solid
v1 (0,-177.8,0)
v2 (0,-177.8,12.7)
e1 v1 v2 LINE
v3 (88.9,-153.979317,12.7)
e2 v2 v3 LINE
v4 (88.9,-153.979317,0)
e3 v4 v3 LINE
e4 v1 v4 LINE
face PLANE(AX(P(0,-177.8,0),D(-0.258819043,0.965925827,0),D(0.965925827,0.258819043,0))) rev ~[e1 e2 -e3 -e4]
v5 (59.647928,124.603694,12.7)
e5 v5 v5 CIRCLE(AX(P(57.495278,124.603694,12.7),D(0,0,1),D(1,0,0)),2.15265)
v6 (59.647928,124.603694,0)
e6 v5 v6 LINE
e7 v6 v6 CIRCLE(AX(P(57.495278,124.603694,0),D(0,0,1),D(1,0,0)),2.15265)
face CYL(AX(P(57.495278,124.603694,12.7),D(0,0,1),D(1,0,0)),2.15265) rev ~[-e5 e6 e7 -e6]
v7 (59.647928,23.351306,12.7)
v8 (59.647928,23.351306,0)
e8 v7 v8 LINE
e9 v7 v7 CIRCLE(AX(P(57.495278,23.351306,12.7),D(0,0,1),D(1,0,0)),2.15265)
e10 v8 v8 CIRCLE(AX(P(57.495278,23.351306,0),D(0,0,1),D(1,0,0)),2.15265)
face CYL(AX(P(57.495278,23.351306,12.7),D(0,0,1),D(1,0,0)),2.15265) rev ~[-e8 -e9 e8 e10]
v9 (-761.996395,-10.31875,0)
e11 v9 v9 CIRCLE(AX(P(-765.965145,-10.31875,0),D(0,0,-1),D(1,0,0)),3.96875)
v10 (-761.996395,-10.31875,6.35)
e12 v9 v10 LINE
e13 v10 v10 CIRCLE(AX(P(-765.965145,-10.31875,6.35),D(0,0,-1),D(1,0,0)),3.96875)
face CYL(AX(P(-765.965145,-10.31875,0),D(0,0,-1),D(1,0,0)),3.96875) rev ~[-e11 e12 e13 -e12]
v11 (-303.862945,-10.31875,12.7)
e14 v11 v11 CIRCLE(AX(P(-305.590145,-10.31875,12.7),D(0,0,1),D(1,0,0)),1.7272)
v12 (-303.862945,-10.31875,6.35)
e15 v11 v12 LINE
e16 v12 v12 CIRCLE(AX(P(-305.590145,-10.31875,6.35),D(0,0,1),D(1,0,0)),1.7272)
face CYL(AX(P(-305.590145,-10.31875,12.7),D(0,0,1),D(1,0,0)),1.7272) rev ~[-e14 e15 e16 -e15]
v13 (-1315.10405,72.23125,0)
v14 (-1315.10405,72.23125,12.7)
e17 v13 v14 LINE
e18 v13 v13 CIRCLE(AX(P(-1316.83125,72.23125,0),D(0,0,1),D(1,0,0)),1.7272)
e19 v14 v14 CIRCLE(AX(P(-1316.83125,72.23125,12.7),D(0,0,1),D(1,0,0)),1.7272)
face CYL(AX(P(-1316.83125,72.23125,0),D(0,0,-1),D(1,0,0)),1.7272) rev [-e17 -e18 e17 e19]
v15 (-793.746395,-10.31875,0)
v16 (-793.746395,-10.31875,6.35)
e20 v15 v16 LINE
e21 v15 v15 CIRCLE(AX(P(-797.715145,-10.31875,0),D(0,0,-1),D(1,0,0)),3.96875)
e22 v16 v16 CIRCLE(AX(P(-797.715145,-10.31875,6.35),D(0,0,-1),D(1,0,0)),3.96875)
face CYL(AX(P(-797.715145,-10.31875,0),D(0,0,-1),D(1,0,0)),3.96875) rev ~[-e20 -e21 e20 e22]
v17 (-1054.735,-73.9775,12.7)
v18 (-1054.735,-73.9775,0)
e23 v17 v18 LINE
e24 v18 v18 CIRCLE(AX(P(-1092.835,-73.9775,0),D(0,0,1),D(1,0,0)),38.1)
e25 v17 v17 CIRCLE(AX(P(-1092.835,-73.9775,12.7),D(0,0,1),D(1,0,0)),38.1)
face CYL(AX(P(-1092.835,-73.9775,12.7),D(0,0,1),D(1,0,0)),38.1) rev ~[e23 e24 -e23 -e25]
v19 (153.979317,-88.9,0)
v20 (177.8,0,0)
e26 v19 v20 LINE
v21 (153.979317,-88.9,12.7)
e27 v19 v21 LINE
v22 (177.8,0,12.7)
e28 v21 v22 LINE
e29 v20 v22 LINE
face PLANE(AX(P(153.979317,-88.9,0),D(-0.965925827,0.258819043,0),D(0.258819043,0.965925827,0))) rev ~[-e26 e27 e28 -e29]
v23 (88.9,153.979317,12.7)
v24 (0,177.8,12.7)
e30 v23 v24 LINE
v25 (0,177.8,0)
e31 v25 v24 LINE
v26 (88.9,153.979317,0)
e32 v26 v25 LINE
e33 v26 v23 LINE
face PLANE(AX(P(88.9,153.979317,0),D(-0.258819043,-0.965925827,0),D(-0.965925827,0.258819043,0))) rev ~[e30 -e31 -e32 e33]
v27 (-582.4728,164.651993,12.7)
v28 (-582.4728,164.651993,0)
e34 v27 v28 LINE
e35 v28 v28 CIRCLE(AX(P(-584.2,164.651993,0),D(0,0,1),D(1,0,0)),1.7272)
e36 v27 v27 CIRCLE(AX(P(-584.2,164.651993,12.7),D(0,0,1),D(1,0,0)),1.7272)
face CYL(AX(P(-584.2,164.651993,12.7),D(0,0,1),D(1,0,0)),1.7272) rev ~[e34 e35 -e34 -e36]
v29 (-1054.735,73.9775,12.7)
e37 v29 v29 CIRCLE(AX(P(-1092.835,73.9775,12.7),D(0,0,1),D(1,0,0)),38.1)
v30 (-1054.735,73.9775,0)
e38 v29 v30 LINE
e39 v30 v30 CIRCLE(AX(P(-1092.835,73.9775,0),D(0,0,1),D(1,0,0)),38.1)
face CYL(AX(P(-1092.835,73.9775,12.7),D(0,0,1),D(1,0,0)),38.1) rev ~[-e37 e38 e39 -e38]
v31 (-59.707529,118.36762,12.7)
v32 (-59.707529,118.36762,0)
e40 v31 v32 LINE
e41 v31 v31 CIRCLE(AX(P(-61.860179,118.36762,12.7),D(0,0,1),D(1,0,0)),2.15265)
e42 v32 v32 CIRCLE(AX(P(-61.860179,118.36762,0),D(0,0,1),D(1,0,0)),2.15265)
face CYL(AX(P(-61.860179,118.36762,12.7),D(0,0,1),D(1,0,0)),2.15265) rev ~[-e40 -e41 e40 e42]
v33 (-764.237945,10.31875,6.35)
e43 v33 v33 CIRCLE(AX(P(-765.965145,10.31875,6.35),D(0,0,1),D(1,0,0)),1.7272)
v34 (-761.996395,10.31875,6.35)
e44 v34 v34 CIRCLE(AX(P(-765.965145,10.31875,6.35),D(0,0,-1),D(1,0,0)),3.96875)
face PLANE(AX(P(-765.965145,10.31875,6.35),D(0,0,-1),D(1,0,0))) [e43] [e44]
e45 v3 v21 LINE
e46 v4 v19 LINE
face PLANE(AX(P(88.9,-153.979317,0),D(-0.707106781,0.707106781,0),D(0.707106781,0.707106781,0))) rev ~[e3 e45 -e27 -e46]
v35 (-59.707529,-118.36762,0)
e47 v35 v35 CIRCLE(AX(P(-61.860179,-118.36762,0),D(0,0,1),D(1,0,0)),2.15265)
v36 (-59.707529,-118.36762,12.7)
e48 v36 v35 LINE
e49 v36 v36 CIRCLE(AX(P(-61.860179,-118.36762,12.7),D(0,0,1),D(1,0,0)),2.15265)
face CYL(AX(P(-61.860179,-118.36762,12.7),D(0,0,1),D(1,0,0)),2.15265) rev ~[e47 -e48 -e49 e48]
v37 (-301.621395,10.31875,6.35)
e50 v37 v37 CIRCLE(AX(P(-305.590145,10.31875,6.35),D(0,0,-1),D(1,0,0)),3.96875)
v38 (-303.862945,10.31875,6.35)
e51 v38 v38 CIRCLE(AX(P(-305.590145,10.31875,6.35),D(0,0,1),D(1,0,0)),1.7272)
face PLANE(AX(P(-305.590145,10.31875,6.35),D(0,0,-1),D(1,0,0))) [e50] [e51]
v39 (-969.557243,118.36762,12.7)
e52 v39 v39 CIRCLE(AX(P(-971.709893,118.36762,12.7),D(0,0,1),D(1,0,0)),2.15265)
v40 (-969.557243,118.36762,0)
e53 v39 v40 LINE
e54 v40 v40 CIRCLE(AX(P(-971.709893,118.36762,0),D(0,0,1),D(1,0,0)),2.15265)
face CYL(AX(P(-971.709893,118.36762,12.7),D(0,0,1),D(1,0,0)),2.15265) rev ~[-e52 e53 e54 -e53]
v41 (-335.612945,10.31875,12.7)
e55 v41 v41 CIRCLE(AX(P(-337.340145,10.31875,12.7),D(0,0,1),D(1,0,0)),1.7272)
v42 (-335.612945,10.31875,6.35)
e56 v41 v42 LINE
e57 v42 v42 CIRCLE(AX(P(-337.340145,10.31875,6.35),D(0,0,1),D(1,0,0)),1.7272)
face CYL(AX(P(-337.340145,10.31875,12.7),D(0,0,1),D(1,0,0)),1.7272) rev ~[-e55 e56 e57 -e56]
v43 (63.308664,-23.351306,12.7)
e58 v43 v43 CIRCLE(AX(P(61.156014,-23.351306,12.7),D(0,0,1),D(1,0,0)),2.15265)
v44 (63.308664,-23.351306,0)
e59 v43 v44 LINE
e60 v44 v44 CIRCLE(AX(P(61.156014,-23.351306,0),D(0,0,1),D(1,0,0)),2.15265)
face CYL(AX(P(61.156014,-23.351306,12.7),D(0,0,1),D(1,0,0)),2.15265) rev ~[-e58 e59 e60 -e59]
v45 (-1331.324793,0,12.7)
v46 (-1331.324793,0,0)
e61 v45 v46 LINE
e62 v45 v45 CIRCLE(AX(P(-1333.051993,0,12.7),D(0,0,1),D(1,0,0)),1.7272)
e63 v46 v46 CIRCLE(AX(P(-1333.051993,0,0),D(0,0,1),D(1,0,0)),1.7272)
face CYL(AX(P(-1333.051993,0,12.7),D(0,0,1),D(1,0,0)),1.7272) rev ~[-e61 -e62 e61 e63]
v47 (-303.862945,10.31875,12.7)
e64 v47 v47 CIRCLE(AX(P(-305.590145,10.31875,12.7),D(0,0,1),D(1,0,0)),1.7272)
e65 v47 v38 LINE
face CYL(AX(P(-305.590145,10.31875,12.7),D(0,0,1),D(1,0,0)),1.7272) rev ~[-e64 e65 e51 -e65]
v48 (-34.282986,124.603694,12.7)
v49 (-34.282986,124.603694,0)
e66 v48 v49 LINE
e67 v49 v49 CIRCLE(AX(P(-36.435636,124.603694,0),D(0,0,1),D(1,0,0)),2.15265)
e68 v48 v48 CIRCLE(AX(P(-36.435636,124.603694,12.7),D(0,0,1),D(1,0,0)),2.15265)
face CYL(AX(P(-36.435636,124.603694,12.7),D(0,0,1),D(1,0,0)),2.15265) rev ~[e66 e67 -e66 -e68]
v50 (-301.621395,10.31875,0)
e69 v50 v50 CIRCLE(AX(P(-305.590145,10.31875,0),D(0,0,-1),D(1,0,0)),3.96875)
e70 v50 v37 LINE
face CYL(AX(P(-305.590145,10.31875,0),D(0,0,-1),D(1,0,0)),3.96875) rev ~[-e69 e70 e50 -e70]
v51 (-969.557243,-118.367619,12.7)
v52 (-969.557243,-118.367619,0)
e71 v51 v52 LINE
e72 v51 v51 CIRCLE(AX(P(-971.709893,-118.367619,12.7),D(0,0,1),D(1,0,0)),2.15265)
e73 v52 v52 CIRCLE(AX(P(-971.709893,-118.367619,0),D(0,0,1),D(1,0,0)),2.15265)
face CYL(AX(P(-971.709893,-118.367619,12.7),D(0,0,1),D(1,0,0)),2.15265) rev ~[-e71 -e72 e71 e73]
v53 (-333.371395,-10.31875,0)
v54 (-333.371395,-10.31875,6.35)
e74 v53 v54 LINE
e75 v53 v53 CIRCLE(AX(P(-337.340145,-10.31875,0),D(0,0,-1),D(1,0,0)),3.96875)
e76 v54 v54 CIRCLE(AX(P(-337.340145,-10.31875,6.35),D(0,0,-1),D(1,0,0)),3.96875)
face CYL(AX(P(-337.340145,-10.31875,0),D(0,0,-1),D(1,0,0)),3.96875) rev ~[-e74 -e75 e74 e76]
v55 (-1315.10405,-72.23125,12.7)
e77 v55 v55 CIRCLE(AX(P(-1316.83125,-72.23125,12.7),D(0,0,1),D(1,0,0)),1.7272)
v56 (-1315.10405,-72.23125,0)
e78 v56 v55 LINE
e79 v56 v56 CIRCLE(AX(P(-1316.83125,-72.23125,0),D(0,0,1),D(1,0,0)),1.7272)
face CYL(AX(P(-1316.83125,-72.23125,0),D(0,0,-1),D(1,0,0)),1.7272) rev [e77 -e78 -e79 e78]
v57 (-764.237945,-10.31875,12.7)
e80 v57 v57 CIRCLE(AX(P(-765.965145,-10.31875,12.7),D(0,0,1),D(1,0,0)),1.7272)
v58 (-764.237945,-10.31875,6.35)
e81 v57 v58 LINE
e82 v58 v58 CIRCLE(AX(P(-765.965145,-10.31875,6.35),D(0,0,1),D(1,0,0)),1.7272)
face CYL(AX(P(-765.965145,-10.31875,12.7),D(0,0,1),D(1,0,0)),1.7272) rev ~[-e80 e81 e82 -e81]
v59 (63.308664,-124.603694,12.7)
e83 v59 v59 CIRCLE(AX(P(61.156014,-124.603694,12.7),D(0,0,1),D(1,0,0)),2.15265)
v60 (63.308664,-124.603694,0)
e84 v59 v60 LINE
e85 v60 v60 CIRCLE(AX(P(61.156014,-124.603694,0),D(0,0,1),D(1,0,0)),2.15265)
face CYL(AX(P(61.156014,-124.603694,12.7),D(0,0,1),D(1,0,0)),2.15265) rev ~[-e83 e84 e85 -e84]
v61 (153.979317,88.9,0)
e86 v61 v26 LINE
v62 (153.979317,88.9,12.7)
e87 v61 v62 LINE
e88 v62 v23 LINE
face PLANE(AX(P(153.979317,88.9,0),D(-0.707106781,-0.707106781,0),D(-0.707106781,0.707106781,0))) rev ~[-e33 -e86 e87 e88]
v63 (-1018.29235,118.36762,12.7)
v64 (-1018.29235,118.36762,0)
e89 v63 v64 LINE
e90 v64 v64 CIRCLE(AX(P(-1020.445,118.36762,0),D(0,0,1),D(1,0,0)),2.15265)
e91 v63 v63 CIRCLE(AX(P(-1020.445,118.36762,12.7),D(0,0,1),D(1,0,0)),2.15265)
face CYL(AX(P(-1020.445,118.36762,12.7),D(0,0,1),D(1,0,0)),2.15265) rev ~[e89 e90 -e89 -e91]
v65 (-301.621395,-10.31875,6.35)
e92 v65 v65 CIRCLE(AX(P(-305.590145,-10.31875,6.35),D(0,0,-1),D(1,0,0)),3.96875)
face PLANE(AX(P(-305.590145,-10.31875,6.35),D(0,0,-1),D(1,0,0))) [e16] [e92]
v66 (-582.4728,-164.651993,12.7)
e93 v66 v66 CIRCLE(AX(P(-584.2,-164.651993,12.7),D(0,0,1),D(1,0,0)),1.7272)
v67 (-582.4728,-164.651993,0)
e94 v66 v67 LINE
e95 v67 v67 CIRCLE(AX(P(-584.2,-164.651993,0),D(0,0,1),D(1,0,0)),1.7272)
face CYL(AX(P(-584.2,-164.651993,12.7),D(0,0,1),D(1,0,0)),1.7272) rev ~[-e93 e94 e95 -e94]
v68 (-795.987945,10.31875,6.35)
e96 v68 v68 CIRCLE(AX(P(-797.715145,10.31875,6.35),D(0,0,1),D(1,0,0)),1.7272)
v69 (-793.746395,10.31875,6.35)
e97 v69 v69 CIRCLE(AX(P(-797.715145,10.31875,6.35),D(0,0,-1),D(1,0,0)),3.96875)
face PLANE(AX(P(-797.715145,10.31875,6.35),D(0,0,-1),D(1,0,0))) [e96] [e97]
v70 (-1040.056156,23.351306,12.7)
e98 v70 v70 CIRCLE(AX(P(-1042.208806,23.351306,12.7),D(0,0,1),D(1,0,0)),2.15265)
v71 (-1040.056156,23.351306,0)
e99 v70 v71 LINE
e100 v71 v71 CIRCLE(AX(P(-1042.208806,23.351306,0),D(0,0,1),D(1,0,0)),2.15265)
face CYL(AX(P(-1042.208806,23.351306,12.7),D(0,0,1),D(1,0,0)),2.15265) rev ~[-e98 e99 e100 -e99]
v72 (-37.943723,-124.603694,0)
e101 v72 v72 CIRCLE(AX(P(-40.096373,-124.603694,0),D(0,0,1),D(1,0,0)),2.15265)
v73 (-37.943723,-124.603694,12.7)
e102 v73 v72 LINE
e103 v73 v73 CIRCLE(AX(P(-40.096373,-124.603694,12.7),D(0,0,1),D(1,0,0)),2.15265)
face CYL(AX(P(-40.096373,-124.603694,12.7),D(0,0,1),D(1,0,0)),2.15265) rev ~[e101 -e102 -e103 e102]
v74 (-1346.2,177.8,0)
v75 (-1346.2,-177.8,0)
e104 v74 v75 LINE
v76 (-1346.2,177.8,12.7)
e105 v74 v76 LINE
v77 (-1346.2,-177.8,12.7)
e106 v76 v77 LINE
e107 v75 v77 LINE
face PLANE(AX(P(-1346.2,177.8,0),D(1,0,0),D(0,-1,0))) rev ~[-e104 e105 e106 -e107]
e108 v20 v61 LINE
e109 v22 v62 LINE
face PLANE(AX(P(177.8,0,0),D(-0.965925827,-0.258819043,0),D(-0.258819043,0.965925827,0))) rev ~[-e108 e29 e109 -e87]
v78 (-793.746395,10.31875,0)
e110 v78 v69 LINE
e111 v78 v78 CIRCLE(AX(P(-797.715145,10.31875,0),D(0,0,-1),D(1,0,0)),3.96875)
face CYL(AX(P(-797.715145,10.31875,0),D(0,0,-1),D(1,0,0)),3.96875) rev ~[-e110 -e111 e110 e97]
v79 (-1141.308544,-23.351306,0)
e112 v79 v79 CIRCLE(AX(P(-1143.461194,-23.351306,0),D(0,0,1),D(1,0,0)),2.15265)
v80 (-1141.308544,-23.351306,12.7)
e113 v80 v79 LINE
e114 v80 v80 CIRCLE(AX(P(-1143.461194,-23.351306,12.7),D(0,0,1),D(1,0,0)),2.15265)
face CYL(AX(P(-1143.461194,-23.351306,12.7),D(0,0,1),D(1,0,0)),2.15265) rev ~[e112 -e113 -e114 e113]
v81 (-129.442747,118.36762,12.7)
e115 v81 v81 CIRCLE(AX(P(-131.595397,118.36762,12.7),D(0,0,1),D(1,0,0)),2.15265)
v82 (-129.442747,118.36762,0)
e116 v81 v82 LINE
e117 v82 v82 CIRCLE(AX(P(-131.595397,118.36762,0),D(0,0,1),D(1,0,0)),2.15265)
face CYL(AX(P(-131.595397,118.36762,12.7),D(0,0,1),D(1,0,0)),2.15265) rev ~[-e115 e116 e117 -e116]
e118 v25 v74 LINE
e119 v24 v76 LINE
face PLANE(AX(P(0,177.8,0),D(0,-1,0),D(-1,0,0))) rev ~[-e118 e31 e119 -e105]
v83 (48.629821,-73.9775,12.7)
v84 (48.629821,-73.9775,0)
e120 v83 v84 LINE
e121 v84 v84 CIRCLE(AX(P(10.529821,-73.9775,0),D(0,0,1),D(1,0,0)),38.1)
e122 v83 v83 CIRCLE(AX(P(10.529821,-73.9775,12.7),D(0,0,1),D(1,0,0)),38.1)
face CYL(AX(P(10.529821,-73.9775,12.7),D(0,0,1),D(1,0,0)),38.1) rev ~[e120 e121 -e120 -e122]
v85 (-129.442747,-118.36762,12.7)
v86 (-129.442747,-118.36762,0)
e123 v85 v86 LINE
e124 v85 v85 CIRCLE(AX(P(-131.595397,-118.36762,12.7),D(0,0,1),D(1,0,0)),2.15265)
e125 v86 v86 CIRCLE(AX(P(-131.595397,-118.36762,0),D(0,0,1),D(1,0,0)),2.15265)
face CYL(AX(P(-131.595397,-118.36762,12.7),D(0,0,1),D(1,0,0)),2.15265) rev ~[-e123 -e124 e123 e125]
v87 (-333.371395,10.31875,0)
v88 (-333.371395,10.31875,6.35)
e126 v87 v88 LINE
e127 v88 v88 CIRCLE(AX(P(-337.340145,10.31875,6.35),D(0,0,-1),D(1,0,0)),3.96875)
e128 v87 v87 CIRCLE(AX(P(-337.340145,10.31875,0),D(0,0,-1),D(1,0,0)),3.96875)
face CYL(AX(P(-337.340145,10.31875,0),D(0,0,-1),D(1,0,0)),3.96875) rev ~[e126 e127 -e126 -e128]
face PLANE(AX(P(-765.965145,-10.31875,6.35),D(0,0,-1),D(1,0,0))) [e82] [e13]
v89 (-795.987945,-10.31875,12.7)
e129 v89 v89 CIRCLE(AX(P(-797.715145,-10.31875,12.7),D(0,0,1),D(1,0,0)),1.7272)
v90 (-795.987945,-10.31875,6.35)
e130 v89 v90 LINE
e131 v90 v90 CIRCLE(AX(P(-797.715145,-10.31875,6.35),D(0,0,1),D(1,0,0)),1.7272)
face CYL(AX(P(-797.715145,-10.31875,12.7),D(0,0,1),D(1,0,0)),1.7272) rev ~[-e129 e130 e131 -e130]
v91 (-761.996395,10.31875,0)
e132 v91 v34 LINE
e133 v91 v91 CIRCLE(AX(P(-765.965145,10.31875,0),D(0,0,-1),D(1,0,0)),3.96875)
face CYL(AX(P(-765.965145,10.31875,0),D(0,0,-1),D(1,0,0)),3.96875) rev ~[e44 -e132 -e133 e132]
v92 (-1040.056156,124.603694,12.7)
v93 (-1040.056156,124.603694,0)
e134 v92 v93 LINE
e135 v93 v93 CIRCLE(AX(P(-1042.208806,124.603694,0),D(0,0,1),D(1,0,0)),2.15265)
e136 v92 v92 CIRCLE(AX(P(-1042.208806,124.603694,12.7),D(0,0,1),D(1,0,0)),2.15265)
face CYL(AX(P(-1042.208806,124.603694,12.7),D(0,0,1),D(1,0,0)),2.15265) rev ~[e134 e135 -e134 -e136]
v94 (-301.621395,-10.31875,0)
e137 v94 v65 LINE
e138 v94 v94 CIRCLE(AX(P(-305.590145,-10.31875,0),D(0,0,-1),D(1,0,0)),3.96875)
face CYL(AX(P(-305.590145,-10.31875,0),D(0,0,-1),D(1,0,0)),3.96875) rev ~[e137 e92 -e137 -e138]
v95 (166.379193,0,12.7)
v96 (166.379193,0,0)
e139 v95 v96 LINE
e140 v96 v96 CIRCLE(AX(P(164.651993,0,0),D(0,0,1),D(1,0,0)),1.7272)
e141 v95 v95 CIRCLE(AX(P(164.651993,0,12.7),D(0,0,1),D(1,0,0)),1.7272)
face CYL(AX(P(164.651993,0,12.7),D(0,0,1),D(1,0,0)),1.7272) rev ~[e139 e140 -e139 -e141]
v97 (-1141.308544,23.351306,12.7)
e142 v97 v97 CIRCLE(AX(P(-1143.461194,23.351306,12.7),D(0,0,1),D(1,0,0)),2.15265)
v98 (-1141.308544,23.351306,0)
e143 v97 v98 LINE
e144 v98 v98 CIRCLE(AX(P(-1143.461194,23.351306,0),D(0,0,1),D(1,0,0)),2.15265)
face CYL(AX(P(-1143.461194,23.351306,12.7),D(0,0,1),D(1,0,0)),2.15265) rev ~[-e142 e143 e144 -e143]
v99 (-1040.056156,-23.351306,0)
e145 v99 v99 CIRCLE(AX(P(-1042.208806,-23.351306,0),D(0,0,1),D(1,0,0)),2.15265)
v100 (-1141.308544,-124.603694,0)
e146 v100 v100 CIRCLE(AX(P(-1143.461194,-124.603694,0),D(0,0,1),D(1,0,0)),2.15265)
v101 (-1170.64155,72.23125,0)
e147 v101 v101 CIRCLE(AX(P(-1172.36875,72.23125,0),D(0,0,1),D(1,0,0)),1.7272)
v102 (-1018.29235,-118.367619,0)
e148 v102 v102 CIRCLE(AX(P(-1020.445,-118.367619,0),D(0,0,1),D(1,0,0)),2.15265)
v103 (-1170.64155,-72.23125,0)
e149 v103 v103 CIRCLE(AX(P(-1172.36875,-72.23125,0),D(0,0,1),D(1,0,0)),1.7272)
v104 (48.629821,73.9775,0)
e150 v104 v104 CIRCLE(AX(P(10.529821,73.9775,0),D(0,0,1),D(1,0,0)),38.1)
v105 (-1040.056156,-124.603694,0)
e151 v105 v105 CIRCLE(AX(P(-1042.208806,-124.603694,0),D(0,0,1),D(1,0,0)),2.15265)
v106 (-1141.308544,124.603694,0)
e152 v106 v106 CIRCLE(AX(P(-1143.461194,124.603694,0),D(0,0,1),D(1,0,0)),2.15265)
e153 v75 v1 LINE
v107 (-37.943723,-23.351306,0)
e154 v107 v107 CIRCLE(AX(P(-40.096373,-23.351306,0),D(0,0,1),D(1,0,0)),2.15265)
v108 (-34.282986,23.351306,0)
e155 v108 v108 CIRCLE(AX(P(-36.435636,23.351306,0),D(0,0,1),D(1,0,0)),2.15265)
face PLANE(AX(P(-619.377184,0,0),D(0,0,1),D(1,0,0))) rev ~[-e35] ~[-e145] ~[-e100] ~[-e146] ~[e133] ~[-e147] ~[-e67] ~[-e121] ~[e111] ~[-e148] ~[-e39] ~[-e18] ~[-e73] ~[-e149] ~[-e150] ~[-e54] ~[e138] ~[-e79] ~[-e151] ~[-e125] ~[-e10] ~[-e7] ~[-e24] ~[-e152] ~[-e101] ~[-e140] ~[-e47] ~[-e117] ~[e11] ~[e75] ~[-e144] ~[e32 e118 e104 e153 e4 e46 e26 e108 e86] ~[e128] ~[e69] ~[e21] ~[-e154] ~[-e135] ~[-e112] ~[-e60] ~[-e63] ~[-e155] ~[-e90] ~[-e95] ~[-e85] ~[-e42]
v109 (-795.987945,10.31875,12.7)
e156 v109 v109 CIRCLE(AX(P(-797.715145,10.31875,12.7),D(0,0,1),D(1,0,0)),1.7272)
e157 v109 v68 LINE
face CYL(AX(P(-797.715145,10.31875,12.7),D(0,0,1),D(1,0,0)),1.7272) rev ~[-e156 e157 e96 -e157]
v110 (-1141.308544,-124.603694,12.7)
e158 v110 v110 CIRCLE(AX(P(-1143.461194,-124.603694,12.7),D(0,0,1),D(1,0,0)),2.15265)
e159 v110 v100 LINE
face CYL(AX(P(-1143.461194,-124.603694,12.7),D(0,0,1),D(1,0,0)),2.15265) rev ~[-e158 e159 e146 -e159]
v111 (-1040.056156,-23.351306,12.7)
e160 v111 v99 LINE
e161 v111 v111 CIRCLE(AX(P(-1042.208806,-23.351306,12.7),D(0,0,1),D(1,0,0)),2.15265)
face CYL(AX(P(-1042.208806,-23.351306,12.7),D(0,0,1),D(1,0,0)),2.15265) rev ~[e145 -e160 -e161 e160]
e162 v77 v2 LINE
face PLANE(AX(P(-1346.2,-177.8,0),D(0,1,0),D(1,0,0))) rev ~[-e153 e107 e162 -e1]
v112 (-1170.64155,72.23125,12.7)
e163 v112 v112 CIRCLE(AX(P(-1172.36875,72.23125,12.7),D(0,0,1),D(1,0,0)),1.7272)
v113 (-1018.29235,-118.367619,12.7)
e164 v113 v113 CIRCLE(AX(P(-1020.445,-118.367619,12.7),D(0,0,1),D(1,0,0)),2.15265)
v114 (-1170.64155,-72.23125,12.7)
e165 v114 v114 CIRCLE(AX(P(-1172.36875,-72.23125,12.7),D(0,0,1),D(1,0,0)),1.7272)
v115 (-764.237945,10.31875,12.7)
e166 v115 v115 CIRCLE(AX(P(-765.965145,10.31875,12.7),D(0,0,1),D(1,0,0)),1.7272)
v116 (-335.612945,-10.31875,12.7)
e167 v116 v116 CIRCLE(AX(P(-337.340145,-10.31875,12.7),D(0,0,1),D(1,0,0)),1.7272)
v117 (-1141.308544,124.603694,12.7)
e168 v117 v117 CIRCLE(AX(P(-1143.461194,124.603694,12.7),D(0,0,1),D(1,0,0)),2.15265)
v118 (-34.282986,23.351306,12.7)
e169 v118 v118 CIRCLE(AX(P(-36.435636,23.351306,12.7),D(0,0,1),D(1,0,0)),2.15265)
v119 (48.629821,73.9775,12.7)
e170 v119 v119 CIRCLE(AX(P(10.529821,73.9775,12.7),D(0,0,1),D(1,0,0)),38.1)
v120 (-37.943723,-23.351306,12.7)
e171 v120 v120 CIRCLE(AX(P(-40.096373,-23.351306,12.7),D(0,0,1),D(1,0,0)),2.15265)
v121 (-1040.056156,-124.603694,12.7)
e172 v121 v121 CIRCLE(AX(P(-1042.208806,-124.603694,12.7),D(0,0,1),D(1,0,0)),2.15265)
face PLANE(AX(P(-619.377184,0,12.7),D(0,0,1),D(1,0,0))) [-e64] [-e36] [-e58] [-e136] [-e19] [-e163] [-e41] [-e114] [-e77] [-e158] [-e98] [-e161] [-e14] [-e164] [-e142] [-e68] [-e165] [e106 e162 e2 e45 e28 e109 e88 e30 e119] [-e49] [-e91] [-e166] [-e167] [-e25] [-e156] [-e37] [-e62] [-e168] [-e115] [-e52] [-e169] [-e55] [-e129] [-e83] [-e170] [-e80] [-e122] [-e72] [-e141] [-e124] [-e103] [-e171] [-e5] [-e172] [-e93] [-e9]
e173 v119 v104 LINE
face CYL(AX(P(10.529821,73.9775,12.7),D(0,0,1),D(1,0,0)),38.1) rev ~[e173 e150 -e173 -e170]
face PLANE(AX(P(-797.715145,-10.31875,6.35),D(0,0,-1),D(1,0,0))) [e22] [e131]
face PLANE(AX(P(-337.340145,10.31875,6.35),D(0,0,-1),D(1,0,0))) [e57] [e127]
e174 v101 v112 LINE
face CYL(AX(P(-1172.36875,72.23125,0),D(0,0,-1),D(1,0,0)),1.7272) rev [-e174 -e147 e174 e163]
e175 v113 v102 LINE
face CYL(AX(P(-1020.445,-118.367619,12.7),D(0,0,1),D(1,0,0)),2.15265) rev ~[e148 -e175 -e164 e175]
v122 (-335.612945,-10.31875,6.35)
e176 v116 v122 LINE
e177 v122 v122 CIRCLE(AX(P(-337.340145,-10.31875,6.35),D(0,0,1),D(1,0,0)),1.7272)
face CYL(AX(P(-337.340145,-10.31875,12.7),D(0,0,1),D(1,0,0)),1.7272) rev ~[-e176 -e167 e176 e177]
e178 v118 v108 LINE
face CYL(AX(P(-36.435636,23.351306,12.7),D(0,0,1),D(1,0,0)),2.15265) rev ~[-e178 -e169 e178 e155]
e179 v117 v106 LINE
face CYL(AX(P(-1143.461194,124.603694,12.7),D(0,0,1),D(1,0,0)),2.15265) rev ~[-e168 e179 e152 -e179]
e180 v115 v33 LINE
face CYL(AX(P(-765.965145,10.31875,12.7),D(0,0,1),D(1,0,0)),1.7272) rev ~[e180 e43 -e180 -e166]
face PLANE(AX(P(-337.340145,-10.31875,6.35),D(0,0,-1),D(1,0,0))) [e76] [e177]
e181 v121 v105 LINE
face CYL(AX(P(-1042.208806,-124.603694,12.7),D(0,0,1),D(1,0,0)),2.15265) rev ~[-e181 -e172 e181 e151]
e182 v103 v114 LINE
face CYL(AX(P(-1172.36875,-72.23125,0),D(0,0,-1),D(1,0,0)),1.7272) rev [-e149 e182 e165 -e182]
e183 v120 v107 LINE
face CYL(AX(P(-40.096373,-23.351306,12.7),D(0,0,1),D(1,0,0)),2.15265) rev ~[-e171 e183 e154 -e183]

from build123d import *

# Parameters (mm, degrees)
F0_R     = 1.7272
F1_DEPTH = 12.7
F2_R     = 1.7272
F2_R_2   = 38.1
F2_R_3   = 2.15265
F3_DEPTH = 12.7
F4_R     = 1.7272
F4_R_2   = 2.15265
F5_DEPTH = 12.7
F6_R     = 3.96875
F7_DEPTH = 6.35


with BuildPart() as f1:
    # F0 (on Top) → F1 (new body)
    with BuildSketch(Plane.XY):
        Polygon((88.9, 153.979317), (0, 177.8), (-1346.2, 177.8), (-1346.2, -177.8), (0, -177.8), (88.9, -153.979317), (153.979317, -88.9), (177.8, 0), (153.979317, 88.9), align=None)
        with Locations((-1316.83125, -72.23125)):
            Circle(F0_R, mode=Mode.SUBTRACT)
        with Locations((-1172.36875, -72.23125)):
            Circle(F0_R, mode=Mode.SUBTRACT)
        with Locations((-1316.83125, 72.23125)):
            Circle(F0_R, mode=Mode.SUBTRACT)
        with Locations((-1172.36875, 72.23125)):
            Circle(F0_R, mode=Mode.SUBTRACT)
    extrude(amount=F1_DEPTH)

    # F2 (on face) → F3 (cut, through all)
    with BuildSketch(Plane.XY.offset(12.7)):
        with Locations((-1333.051993, 0)):
            Circle(F2_R)
        with Locations((-584.2, 164.651993)):
            Circle(F2_R)
        with Locations((-584.2, -164.651993)):
            Circle(F2_R)
        with Locations((164.651993, 0)):
            Circle(F2_R)
        with Locations((10.529821, 73.9775)):
            Circle(F2_R_2)
        with Locations((10.529821, -73.9775)):
            Circle(F2_R_2)
        with Locations((-1092.835, 73.9775)):
            Circle(F2_R_2)
        with Locations((-1092.835, -73.9775)):
            Circle(F2_R_2)
        with Locations((-40.096373, -124.603694)):
            Circle(F2_R_3)
        with Locations((61.156014, -124.603694)):
            Circle(F2_R_3)
        with Locations((61.156014, -23.351306)):
            Circle(F2_R_3)
        with Locations((-40.096373, -23.351306)):
            Circle(F2_R_3)
        with Locations((-36.435636, 23.351306)):
            Circle(F2_R_3)
        with Locations((-36.435636, 124.603694)):
            Circle(F2_R_3)
        with Locations((57.495278, 124.603694)):
            Circle(F2_R_3)
        with Locations((57.495278, 23.351306)):
            Circle(F2_R_3)
        with Locations((-1143.461194, -124.603694)):
            Circle(F2_R_3)
        with Locations((-1042.208806, -124.603694)):
            Circle(F2_R_3)
        with Locations((-1042.208806, -23.351306)):
            Circle(F2_R_3)
        with Locations((-1143.461194, -23.351306)):
            Circle(F2_R_3)
        with Locations((-1143.461194, 23.351306)):
            Circle(F2_R_3)
        with Locations((-1042.208806, 23.351306)):
            Circle(F2_R_3)
        with Locations((-1042.208806, 124.603694)):
            Circle(F2_R_3)
        with Locations((-1143.461194, 124.603694)):
            Circle(F2_R_3)
    extrude(amount=-F3_DEPTH, mode=Mode.SUBTRACT)

    # F4 (on face) → F5 (cut, through all)
    with BuildSketch(Plane.XY.offset(12.7)):
        with Locations((-305.590145, -10.31875)):
            Circle(F4_R)
        with Locations((-337.340145, -10.31875)):
            Circle(F4_R)
        with Locations((-337.340145, 10.31875)):
            Circle(F4_R)
        with Locations((-305.590145, 10.31875)):
            Circle(F4_R)
        with Locations((-765.965145, 10.31875)):
            Circle(F4_R)
        with Locations((-765.965145, -10.31875)):
            Circle(F4_R)
        with Locations((-797.715145, -10.31875)):
            Circle(F4_R)
        with Locations((-797.715145, 10.31875)):
            Circle(F4_R)
        with Locations((-61.860179, 118.36762)):
            Circle(F4_R_2)
        with Locations((-131.595397, 118.36762)):
            Circle(F4_R_2)
        with Locations((-131.595397, -118.36762)):
            Circle(F4_R_2)
        with Locations((-61.860179, -118.36762)):
            Circle(F4_R_2)
        with Locations((-1020.445, -118.367619)):
            Circle(F4_R_2)
        with Locations((-971.709893, -118.367619)):
            Circle(F4_R_2)
        with Locations((-1020.445, 118.36762)):
            Circle(F4_R_2)
        with Locations((-971.709893, 118.36762)):
            Circle(F4_R_2)
    extrude(amount=-F5_DEPTH, mode=Mode.SUBTRACT)

    # F6 (on face) → F7 (cut)
    with BuildSketch(Plane(origin=(0, 0, 0), x_dir=(1, 0, 0), z_dir=(0, 0, -1))):
        with Locations((-797.715145, -10.31875)):
            Circle(F6_R)
        with Locations((-765.965145, -10.31875)):
            Circle(F6_R)
        with Locations((-765.965145, 10.31875)):
            Circle(F6_R)
        with Locations((-797.715145, 10.31875)):
            Circle(F6_R)
        with Locations((-305.590145, -10.31875)):
            Circle(F6_R)
        with Locations((-305.590145, 10.31875)):
            Circle(F6_R)
        with Locations((-337.340145, 10.31875)):
            Circle(F6_R)
        with Locations((-337.340145, -10.31875)):
            Circle(F6_R)
    extrude(amount=-F7_DEPTH, mode=Mode.SUBTRACT)


solid = f1.part
